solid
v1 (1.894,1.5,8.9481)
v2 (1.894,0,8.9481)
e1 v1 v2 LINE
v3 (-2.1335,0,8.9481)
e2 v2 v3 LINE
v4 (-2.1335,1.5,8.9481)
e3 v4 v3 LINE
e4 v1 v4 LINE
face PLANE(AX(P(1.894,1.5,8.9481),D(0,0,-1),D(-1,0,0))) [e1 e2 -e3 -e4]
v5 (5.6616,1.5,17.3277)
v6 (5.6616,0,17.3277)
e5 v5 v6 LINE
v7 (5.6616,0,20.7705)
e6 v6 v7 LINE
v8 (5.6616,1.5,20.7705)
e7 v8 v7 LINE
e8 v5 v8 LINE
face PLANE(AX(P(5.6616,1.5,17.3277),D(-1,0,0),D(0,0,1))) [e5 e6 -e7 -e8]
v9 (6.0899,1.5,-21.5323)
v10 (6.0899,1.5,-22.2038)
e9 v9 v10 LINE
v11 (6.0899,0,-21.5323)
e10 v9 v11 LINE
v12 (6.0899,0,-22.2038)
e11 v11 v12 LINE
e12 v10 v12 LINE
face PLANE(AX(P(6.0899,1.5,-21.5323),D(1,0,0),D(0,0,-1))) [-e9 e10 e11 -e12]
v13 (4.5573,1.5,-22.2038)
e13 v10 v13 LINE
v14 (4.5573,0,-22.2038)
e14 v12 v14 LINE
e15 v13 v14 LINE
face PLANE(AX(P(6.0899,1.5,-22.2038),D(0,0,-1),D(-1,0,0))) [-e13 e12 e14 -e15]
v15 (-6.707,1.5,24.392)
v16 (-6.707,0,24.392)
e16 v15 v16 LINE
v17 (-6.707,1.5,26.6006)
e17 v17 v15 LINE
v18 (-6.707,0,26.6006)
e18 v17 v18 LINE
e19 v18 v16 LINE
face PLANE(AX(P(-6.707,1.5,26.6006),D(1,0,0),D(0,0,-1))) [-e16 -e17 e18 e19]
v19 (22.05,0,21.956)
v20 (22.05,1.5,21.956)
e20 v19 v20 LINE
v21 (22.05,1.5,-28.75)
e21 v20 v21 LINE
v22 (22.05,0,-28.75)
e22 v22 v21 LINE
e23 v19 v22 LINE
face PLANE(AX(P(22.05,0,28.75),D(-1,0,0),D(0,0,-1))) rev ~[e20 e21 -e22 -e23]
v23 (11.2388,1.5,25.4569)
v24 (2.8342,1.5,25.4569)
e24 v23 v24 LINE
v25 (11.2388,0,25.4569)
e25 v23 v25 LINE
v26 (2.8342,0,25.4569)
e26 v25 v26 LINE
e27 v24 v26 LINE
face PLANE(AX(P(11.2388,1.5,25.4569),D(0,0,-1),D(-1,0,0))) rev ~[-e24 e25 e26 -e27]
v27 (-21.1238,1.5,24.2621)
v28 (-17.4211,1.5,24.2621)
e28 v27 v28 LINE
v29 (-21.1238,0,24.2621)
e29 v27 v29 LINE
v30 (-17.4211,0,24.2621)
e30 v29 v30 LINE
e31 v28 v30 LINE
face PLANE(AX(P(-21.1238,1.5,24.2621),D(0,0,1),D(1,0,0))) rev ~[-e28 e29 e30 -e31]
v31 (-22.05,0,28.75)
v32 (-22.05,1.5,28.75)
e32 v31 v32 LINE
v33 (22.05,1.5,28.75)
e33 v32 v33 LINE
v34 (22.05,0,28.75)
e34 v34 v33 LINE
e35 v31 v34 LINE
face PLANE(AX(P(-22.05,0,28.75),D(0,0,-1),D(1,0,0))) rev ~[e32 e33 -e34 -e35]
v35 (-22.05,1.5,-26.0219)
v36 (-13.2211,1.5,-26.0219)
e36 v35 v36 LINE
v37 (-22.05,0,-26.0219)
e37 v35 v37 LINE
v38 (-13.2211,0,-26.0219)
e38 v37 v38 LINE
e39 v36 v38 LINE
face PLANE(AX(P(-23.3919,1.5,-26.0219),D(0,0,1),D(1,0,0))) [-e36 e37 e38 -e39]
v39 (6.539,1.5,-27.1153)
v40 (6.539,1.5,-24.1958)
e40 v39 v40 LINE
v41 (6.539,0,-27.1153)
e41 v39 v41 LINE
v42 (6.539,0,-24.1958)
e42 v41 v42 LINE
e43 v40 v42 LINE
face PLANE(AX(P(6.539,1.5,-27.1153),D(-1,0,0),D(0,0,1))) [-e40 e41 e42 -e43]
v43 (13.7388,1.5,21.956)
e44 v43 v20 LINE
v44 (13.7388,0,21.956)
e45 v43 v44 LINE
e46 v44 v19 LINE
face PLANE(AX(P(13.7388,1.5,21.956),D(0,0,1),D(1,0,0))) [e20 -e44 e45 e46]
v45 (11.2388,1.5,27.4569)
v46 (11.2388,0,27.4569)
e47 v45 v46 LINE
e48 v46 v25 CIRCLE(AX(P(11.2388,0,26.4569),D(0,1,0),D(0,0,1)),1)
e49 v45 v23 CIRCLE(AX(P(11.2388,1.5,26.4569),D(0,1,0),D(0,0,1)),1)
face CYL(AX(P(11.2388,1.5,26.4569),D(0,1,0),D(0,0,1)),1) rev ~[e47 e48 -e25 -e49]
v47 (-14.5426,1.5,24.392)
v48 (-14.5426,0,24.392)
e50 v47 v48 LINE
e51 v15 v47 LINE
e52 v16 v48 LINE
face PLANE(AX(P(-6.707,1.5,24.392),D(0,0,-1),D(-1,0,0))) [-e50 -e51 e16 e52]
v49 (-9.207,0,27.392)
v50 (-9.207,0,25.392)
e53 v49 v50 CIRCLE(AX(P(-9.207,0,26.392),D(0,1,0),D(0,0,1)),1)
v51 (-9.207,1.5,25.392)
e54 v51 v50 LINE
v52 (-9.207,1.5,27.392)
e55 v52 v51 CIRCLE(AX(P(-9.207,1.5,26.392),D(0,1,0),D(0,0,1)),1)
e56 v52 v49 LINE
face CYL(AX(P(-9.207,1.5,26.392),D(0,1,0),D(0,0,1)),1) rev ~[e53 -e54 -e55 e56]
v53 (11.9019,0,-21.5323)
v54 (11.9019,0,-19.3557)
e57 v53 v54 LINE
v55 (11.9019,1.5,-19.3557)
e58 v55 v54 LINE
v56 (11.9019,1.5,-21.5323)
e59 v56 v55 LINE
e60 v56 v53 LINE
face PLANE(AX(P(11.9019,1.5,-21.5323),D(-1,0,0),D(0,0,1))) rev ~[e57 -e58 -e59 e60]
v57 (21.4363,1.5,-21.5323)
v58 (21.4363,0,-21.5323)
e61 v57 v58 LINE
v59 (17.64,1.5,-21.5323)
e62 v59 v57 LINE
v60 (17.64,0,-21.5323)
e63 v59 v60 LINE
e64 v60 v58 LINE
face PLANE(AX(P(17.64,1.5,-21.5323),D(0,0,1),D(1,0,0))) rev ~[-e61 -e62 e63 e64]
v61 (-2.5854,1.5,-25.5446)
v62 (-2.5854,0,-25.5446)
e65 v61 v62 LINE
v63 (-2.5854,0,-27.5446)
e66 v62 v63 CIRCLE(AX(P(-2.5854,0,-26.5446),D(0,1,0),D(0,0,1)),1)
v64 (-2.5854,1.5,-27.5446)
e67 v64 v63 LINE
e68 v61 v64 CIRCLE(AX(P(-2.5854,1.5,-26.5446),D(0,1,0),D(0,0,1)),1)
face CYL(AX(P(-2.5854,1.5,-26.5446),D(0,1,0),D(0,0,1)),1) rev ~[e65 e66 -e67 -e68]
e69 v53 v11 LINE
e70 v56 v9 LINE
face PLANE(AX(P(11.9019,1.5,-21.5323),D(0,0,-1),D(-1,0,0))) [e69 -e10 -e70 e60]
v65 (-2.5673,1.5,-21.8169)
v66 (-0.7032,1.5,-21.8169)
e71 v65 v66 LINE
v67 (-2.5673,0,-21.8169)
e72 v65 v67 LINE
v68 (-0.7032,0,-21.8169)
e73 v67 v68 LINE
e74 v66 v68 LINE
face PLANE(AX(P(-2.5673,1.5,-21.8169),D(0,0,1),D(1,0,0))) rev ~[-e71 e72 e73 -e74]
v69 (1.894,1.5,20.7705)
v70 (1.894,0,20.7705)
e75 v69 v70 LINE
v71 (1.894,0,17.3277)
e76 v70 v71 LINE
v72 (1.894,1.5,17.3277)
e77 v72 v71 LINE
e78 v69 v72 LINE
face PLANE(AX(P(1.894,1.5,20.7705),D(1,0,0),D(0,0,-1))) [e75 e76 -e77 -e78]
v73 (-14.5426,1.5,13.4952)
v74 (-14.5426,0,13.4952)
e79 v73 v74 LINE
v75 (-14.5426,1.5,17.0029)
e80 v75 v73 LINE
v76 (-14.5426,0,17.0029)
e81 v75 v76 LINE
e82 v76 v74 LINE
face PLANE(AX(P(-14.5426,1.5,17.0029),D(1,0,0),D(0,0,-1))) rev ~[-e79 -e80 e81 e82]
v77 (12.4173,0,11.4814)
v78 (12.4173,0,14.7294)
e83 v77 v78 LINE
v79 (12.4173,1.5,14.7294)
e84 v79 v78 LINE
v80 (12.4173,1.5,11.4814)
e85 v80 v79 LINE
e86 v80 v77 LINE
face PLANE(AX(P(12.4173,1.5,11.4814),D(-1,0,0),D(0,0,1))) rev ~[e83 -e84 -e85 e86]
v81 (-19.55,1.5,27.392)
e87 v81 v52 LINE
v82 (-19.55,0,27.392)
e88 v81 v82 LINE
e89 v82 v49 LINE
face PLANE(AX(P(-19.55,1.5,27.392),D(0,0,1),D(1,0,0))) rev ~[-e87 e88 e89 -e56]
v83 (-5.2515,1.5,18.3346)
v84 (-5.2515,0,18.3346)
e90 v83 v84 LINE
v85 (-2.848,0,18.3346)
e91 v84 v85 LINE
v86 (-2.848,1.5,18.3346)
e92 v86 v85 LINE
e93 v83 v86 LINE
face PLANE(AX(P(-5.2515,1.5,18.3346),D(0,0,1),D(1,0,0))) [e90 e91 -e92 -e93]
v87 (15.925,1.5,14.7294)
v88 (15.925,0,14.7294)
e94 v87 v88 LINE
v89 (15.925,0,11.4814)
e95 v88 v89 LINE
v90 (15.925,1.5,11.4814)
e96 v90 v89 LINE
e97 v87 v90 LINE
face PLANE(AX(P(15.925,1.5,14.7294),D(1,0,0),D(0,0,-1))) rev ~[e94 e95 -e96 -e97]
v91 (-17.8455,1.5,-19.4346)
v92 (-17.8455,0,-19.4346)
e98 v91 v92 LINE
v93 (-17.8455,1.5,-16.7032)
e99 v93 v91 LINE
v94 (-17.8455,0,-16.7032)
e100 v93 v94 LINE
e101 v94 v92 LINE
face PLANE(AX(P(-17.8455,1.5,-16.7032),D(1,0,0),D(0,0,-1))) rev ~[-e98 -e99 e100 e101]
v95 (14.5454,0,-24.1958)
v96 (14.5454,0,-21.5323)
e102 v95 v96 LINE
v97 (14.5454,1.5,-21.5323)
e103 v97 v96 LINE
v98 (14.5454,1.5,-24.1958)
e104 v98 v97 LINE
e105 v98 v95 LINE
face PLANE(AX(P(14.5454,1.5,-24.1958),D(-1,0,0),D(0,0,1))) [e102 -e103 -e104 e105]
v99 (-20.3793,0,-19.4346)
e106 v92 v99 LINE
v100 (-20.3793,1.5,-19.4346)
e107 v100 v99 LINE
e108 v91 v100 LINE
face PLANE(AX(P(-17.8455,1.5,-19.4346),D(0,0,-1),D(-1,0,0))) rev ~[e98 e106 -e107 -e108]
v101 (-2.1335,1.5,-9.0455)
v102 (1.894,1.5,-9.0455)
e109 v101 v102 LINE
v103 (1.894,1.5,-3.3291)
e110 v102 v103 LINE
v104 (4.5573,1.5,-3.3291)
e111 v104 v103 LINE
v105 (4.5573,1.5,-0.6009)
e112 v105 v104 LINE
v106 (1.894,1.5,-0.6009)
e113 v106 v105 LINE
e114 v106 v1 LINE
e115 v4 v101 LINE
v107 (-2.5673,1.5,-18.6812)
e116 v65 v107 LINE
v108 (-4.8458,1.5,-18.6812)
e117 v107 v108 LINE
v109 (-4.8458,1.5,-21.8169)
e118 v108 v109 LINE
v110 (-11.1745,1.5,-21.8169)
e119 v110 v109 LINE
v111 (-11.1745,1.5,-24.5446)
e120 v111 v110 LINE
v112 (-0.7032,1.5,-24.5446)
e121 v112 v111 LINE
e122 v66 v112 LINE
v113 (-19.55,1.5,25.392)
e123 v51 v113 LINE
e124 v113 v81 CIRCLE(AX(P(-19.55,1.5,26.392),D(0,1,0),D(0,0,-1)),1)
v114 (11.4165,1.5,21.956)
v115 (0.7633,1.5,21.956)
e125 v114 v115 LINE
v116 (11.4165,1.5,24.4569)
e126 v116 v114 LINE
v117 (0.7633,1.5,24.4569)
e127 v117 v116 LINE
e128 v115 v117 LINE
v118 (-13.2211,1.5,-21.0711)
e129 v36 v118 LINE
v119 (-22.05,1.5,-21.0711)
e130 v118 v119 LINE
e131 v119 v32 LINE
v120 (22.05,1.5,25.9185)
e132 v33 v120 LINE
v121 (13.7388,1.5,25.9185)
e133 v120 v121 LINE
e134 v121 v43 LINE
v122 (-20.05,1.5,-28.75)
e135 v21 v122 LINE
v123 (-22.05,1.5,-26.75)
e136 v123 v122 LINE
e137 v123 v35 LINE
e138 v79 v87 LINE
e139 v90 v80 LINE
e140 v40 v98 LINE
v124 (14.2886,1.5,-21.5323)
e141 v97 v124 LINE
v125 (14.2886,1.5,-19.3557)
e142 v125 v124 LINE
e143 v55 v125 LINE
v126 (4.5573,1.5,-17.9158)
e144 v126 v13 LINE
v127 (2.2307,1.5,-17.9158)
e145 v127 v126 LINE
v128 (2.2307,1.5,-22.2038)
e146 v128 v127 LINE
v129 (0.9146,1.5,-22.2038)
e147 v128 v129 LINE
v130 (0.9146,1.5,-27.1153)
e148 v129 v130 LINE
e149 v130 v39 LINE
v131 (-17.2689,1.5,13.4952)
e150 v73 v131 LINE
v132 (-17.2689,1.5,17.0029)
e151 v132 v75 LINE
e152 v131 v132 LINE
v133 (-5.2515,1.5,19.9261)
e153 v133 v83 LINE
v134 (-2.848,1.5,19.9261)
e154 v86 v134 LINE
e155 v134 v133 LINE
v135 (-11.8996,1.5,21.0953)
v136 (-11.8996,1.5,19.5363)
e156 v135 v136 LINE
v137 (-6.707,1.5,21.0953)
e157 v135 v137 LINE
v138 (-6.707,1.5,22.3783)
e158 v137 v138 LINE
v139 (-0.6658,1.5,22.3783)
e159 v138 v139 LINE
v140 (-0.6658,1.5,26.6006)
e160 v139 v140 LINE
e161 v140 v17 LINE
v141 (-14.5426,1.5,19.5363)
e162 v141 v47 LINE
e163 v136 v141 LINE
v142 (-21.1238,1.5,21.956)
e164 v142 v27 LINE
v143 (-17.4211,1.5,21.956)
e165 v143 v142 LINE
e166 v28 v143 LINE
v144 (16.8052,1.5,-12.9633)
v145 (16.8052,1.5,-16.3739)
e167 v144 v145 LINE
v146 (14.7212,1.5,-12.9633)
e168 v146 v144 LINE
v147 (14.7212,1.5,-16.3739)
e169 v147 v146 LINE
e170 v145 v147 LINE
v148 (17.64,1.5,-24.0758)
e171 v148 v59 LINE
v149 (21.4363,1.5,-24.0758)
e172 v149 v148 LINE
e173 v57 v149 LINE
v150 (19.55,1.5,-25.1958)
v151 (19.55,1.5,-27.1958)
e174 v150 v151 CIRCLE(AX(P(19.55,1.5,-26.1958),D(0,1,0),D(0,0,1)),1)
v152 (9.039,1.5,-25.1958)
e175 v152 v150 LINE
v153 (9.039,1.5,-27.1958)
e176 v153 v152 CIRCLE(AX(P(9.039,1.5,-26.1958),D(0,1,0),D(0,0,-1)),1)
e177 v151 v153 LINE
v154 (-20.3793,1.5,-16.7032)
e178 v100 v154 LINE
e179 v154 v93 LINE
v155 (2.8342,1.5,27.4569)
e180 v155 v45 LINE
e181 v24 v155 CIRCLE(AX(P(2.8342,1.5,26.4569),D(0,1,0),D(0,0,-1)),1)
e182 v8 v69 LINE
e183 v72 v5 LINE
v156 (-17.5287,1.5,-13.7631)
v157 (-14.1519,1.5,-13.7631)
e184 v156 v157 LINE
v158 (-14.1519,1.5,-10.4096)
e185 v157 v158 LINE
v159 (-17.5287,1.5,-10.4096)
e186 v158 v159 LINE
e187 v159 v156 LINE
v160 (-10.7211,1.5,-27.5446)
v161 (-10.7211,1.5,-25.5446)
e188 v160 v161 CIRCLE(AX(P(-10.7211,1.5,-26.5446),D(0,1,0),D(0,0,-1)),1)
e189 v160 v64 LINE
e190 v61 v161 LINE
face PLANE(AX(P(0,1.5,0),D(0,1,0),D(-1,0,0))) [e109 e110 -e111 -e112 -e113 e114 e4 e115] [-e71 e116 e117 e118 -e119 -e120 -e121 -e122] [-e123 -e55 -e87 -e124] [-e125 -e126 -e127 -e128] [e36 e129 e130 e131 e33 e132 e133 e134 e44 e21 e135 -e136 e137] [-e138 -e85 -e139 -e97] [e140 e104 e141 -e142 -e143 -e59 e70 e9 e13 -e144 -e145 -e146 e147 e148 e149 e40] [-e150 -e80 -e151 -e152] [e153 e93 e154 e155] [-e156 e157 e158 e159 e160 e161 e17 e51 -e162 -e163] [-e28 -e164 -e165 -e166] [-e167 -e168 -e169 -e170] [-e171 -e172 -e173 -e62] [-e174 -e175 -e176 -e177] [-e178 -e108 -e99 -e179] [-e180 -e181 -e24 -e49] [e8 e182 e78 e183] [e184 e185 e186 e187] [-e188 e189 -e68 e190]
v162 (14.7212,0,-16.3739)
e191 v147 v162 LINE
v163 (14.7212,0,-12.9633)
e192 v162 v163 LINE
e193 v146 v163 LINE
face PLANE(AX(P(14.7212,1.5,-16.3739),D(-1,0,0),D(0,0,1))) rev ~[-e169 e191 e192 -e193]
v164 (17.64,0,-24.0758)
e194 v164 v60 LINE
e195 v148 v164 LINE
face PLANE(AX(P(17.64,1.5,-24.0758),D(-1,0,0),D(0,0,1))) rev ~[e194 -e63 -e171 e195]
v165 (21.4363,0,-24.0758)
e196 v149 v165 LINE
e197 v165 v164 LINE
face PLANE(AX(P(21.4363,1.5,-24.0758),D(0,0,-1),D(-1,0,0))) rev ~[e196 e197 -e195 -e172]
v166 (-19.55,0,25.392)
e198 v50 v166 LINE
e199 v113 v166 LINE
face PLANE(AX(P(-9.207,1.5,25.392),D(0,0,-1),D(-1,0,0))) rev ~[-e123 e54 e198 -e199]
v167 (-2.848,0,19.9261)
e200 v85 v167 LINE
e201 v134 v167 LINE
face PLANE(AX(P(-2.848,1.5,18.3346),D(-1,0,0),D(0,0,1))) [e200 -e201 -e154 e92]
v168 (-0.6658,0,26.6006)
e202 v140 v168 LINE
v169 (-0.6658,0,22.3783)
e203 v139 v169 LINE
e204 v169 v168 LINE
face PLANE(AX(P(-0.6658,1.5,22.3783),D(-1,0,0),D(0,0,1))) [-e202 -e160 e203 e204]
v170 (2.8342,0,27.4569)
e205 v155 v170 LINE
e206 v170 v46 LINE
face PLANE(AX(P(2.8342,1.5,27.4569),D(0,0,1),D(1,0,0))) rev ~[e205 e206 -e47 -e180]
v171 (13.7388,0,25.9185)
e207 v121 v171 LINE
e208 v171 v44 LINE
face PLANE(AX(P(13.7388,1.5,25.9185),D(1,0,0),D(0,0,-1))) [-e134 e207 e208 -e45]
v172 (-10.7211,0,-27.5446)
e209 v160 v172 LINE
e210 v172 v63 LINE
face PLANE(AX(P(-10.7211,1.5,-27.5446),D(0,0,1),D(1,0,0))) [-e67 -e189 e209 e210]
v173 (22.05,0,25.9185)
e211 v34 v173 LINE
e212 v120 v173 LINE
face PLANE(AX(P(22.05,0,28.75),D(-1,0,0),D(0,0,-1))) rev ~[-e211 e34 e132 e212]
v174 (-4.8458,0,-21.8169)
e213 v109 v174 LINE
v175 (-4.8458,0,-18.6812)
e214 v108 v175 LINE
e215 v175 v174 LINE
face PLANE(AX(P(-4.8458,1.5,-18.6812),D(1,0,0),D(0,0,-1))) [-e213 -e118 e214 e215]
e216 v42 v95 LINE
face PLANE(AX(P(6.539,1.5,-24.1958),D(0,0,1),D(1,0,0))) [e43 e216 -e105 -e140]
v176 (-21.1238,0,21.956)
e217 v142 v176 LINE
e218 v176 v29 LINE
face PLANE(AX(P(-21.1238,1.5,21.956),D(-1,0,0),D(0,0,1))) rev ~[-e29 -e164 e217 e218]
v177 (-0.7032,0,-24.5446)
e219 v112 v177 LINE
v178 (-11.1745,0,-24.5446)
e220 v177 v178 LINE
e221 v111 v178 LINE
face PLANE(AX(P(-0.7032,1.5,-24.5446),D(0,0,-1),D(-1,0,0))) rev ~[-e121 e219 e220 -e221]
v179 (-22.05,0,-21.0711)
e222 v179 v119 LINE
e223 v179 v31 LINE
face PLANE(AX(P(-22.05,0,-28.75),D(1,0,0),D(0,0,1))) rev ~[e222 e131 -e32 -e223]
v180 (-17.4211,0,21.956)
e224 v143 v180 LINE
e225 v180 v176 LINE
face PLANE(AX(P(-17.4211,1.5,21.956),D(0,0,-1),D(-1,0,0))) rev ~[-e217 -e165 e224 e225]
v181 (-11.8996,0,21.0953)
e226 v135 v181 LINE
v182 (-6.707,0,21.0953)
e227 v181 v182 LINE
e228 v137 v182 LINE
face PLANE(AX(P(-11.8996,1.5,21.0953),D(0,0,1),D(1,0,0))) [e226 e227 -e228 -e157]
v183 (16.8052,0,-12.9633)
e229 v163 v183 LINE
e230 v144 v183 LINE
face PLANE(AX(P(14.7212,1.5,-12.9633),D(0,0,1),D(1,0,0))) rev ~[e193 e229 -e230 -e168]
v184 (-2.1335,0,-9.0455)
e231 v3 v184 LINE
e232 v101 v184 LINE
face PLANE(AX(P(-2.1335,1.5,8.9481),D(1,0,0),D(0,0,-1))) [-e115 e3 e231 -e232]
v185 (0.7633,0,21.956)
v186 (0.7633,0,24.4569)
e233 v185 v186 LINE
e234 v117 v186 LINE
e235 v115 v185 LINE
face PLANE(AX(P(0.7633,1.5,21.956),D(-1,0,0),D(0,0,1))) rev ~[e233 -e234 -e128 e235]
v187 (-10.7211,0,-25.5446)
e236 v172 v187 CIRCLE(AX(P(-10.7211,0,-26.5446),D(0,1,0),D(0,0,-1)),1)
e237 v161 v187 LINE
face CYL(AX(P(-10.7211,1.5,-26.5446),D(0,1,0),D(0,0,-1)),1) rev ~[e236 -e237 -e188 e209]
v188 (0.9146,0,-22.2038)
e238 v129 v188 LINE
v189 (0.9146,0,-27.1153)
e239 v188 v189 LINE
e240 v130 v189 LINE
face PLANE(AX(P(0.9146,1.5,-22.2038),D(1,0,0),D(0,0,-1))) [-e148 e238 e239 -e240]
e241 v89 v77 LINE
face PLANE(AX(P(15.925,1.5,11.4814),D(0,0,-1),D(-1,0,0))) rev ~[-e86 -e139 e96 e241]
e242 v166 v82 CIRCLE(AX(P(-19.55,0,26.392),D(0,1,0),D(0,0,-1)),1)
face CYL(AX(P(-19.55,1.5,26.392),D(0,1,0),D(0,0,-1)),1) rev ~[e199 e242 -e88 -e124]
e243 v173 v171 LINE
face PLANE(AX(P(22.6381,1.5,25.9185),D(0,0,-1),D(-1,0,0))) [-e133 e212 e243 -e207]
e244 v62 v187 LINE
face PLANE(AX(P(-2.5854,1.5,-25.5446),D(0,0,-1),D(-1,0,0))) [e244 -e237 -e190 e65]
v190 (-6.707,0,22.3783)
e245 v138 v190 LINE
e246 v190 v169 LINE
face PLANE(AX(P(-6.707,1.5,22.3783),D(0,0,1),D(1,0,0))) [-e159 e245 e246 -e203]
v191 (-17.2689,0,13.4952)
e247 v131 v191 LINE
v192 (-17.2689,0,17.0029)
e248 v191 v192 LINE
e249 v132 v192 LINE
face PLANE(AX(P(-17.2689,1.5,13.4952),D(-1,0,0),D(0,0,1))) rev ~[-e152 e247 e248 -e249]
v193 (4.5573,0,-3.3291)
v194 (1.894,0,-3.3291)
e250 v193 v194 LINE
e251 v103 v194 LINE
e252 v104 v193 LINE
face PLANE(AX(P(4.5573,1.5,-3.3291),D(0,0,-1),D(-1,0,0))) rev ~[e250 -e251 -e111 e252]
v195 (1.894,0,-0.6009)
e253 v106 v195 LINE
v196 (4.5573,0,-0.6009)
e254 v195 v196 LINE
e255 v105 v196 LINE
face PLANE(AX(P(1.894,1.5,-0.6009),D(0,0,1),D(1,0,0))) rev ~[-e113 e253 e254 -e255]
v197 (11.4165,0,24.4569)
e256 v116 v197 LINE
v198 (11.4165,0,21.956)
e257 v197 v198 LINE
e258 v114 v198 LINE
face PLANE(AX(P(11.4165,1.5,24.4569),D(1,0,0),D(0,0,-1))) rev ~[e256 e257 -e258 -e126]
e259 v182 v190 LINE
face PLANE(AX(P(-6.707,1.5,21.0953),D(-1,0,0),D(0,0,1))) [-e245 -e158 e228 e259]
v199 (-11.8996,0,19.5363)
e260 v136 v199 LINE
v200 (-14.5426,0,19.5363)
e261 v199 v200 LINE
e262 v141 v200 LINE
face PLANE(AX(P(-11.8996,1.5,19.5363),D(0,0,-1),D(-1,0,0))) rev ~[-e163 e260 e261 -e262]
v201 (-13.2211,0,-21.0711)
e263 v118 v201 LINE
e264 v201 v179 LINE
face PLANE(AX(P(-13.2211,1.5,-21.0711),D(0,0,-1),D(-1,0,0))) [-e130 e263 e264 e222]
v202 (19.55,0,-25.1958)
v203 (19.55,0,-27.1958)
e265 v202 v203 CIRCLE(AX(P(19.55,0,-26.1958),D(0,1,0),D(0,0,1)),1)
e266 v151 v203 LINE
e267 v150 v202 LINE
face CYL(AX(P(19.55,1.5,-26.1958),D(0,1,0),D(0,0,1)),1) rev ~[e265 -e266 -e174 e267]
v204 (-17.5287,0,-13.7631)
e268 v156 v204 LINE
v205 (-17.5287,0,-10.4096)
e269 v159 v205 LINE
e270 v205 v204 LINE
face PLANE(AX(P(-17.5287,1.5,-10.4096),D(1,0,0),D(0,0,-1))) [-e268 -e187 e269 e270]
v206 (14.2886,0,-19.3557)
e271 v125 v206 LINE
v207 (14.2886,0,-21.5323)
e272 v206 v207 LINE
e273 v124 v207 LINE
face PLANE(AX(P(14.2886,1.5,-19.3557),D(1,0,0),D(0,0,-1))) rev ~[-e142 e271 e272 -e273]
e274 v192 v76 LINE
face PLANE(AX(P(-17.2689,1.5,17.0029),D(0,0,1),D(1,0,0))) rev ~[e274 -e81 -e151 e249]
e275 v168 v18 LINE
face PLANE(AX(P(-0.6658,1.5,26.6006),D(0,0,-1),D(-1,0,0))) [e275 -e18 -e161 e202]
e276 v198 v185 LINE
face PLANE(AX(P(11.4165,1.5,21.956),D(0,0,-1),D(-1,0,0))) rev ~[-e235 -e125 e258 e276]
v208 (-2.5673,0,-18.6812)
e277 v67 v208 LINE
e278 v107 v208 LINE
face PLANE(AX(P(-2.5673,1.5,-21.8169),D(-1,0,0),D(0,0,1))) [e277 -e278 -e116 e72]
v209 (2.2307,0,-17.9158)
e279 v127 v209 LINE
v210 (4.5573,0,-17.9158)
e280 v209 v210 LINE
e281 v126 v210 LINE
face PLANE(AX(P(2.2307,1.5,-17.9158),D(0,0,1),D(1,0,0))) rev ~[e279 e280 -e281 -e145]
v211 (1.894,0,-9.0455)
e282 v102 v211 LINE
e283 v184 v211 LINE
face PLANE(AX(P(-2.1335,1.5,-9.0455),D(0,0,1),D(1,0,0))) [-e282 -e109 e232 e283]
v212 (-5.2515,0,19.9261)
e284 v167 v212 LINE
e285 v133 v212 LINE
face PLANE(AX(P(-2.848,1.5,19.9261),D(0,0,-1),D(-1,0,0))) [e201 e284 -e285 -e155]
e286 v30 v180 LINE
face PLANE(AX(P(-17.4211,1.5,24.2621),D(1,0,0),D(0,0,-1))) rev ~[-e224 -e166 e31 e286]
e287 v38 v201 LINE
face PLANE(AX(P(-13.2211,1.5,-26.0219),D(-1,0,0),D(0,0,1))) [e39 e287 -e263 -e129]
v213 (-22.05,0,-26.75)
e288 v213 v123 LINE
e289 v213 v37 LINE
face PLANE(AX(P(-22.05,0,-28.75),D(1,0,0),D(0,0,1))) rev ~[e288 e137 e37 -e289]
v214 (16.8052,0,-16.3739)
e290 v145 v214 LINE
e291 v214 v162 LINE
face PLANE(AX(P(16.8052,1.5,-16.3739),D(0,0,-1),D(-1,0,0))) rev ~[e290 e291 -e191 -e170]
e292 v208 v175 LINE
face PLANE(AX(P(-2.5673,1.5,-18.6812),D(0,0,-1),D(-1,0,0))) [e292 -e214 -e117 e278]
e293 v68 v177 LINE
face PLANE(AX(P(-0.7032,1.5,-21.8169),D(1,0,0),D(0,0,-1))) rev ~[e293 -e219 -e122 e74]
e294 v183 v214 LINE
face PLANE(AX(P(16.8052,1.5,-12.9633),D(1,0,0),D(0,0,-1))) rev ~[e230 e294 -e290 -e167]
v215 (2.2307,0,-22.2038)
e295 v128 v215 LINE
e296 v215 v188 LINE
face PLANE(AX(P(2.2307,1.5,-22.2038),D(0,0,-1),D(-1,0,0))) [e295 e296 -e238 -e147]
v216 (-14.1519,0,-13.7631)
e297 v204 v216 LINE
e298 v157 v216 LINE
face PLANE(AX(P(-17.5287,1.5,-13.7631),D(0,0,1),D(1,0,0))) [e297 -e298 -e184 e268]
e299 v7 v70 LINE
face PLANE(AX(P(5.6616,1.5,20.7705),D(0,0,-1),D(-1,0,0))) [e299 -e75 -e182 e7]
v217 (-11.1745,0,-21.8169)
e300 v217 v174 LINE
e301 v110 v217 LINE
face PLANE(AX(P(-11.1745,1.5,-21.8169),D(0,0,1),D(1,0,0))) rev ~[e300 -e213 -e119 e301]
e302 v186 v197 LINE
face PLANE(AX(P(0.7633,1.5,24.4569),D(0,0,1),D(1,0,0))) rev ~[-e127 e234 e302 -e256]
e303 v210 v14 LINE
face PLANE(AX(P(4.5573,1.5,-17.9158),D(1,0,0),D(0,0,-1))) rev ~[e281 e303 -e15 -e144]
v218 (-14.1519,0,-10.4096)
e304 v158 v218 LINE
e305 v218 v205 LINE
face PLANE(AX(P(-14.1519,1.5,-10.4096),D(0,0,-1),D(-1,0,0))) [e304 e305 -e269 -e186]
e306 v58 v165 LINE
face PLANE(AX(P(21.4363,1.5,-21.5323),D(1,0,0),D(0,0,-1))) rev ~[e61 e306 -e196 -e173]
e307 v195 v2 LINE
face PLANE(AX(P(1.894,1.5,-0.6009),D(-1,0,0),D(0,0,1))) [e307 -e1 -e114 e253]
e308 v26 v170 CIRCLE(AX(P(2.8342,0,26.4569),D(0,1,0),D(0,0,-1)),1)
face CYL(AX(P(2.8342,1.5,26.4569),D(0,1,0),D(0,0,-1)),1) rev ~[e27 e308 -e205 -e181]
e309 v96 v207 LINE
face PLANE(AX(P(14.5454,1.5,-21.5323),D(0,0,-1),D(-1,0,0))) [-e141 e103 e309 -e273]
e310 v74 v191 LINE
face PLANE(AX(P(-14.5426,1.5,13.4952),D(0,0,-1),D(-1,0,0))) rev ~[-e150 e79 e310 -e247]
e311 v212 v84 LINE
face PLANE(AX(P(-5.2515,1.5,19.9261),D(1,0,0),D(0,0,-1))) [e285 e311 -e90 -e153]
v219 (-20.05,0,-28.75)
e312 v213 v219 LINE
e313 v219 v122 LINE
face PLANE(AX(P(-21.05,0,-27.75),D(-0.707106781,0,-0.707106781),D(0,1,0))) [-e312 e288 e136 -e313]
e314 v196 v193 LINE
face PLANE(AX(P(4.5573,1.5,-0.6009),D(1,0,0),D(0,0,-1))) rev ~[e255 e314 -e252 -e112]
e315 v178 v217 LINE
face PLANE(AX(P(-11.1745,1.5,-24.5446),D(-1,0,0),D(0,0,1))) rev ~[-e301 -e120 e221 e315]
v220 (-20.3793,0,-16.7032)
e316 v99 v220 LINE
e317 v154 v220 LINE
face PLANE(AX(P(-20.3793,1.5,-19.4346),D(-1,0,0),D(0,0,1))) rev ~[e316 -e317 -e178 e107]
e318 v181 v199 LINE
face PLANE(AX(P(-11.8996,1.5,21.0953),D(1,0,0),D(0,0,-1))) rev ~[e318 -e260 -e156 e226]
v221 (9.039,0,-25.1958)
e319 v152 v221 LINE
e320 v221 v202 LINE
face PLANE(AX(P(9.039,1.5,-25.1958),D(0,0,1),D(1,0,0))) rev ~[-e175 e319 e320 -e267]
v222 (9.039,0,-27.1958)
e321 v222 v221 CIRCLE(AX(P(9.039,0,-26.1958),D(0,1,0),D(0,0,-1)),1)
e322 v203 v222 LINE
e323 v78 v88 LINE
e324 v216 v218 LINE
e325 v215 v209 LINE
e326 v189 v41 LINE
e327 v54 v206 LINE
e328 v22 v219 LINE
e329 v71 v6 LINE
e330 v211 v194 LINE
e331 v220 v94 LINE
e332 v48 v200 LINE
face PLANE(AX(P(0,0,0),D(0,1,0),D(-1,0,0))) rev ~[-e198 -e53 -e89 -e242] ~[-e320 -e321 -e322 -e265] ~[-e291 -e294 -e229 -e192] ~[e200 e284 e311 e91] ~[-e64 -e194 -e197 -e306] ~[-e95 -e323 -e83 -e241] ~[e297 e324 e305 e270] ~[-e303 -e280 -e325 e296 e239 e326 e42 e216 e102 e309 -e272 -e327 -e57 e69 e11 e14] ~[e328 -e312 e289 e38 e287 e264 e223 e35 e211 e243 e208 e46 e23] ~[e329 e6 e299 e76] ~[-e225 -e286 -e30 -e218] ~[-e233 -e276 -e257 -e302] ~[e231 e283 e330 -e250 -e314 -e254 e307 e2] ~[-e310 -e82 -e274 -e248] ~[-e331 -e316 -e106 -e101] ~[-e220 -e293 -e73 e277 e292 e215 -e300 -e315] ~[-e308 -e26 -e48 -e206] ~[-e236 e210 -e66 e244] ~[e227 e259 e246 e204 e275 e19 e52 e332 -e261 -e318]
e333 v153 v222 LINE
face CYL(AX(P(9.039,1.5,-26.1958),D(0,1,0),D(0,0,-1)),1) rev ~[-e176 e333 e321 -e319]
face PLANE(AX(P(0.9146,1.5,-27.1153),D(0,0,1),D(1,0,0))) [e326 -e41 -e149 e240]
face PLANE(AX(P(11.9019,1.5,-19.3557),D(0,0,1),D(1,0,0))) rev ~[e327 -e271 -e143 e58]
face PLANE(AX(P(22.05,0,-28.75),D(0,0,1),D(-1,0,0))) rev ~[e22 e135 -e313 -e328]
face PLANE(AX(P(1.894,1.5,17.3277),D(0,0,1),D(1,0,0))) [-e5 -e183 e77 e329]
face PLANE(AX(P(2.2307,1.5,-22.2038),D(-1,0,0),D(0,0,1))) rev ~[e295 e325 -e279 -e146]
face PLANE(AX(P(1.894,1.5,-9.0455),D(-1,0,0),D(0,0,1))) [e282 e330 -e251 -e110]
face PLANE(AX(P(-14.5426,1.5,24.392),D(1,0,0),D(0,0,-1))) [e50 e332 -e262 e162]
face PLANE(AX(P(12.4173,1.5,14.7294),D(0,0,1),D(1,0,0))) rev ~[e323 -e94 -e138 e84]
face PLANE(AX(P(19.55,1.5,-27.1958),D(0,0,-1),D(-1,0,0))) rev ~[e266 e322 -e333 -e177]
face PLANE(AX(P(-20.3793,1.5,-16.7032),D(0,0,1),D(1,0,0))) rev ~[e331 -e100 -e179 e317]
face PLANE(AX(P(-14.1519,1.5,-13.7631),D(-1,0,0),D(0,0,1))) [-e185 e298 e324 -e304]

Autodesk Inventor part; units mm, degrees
ref_plane "YZ Plane" through (0, 0, 0) normal (1, 0, 0) x (0, 1, 0)
ref_plane "XZ Plane" through (0, 0, 0) normal (0, 1, 0) x (-1, 0, 0)
ref_plane "XY Plane" through (0, 0, 0) normal (0, 0, 1) x (1, 0, 0)
sketch "Sketch1" plane through (0, 0, 0) normal (0, 1, 0) x (-1, 0, 0)
  line L0 (-22.05, -28.75) -> (22.05, -28.75)
  line L1 (22.05, -28.75) -> (22.05, 28.75)
  line L2 (22.05, 28.75) -> (-22.05, 28.75)
  line L3 (-22.05, 28.75) -> (-22.05, -28.75)
  line L4 (-22.05, -28.75) -> (22.05, 28.75) construction
  line L5 (22.05, -28.75) -> (-22.05, 28.75) construction
  point P0 (0, 0)
  dimension "d0" = 57.5
  dimension "d1" = 44.1
extrude "Extrusion1" add sketch "Sketch1" along normal blind 1.5
sketch "Sketch4" plane through (0, 1.5, 0) normal (0, 1, 0) x (1, 0, 0)
  line L0 (22.6381, -25.9185) -> (13.7388, -25.9185)
  line L1 (13.7388, -25.9185) -> (13.7388, -21.956)
  line L2 (13.7388, -21.956) -> (22.6381, -21.956)
  line L3 (22.6381, -21.956) -> (22.6381, -25.9185)
  line L4 (11.4165, -21.956) -> (0.7633, -21.956)
  line L5 (0.7633, -21.956) -> (0.7633, -24.4569)
  line L6 (0.7633, -24.4569) -> (11.4165, -24.4569)
  line L7 (11.4165, -24.4569) -> (11.4165, -21.956)
  line L8 (-0.6658, -26.6006) -> (-6.707, -26.6006)
  line L9 (-6.707, -26.6006) -> (-6.707, -22.3783)
  line L10 (-6.707, -22.3783) -> (-0.6658, -22.3783)
  line L11 (-0.6658, -22.3783) -> (-0.6658, -26.6006)
  line L12 (-6.707, -24.392) -> (-14.5426, -24.392)
  line L13 (-14.5426, -24.392) -> (-14.5426, -21.0953)
  line L14 (-14.5426, -21.0953) -> (-6.707, -21.0953)
  line L15 (-6.707, -21.0953) -> (-6.707, -24.392)
  line L16 (-14.5426, -21.0953) -> (-11.8996, -21.0953)
  line L17 (-11.8996, -21.0953) -> (-11.8996, -19.5363)
  line L18 (-11.8996, -19.5363) -> (-14.5426, -19.5363)
  line L19 (-14.5426, -19.5363) -> (-14.5426, -21.0953)
  line L20 (-21.1238, -24.2621) -> (-17.4211, -24.2621)
  line L21 (-17.4211, -24.2621) -> (-17.4211, -21.956)
  line L22 (-17.4211, -21.956) -> (-21.1238, -21.956)
  line L23 (-21.1238, -21.956) -> (-21.1238, -24.2621)
  line L24 (5.6616, -20.7705) -> (1.894, -20.7705)
  line L25 (1.894, -20.7705) -> (1.894, -17.3277)
  line L26 (1.894, -17.3277) -> (5.6616, -17.3277)
  line L27 (5.6616, -17.3277) -> (5.6616, -20.7705)
  line L28 (-2.848, -19.9261) -> (-5.2515, -19.9261)
  line L29 (-5.2515, -19.9261) -> (-5.2515, -18.3346)
  line L30 (-5.2515, -18.3346) -> (-2.848, -18.3346)
  line L31 (-2.848, -18.3346) -> (-2.848, -19.9261)
  line L32 (-17.2689, -17.0029) -> (-14.5426, -17.0029)
  line L33 (-14.5426, -17.0029) -> (-14.5426, -13.4952)
  line L34 (-14.5426, -13.4952) -> (-17.2689, -13.4952)
  line L35 (-17.2689, -13.4952) -> (-17.2689, -17.0029)
  line L36 (15.925, -11.4814) -> (12.4173, -11.4814)
  line L37 (12.4173, -11.4814) -> (12.4173, -14.7294)
  line L38 (12.4173, -14.7294) -> (15.925, -14.7294)
  line L39 (15.925, -14.7294) -> (15.925, -11.4814)
  line L40 (-2.1335, 9.0455) -> (1.894, 9.0455)
  line L41 (1.894, 9.0455) -> (1.894, -8.9481)
  line L42 (1.894, -8.9481) -> (-2.1335, -8.9481)
  line L43 (-2.1335, -8.9481) -> (-2.1335, 9.0455)
  line L44 (4.5573, 3.3291) -> (1.6991, 3.3291)
  line L45 (1.6991, 3.3291) -> (1.6991, 0.6009)
  line L46 (1.6991, 0.6009) -> (4.5573, 0.6009)
  line L47 (4.5573, 0.6009) -> (4.5573, 3.3291)
  line L48 (-17.5287, 13.7631) -> (-14.1519, 13.7631)
  line L49 (-14.1519, 13.7631) -> (-14.1519, 10.4096)
  line L50 (-14.1519, 10.4096) -> (-17.5287, 10.4096)
  line L51 (-17.5287, 10.4096) -> (-17.5287, 13.7631)
  line L52 (16.8052, 16.3739) -> (14.7212, 16.3739)
  line L53 (14.7212, 16.3739) -> (14.7212, 12.9633)
  line L54 (14.7212, 12.9633) -> (16.8052, 12.9633)
  line L55 (16.8052, 12.9633) -> (16.8052, 16.3739)
  line L56 (-23.3919, 26.0219) -> (-13.2211, 26.0219)
  line L57 (-13.2211, 26.0219) -> (-13.2211, 21.0711)
  line L58 (-13.2211, 21.0711) -> (-23.3919, 21.0711)
  line L59 (-23.3919, 21.0711) -> (-23.3919, 26.0219)
  line L60 (-20.3793, 16.7032) -> (-17.8455, 16.7032)
  line L61 (-17.8455, 16.7032) -> (-17.8455, 19.4346)
  line L62 (-17.8455, 19.4346) -> (-20.3793, 19.4346)
  line L63 (-20.3793, 19.4346) -> (-20.3793, 16.7032)
  line L64 (-11.1745, 21.8169) -> (-0.7032, 21.8169)
  line L65 (-0.7032, 21.8169) -> (-0.7032, 24.5446)
  line L66 (-0.7032, 24.5446) -> (-11.1745, 24.5446)
  line L67 (-11.1745, 24.5446) -> (-11.1745, 21.8169)
  line L68 (-2.5673, 18.6812) -> (-4.8458, 18.6812)
  line L69 (-4.8458, 18.6812) -> (-4.8458, 22.2038)
  line L70 (-4.8458, 22.2038) -> (-2.5673, 22.2038)
  line L71 (-2.5673, 22.2038) -> (-2.5673, 18.6812)
  line L72 (0.9146, 27.1153) -> (6.539, 27.1153)
  line L73 (6.539, 27.1153) -> (6.539, 22.2038)
  line L74 (6.539, 22.2038) -> (0.9146, 22.2038)
  line L75 (0.9146, 22.2038) -> (0.9146, 27.1153)
  line L76 (2.2307, 17.9158) -> (4.5573, 17.9158)
  line L77 (4.5573, 17.9158) -> (4.5573, 22.2038)
  line L78 (4.5573, 22.2038) -> (2.2307, 22.2038)
  line L79 (2.2307, 22.2038) -> (2.2307, 17.9158)
  line L80 (6.0899, 24.1958) -> (14.5454, 24.1958)
  line L81 (14.5454, 24.1958) -> (14.5454, 21.5323)
  line L82 (14.5454, 21.5323) -> (6.0899, 21.5323)
  line L83 (6.0899, 21.5323) -> (6.0899, 24.1958)
  line L84 (14.2886, 21.5323) -> (11.9019, 21.5323)
  line L85 (11.9019, 21.5323) -> (11.9019, 19.3557)
  line L86 (11.9019, 19.3557) -> (14.2886, 19.3557)
  line L87 (14.2886, 19.3557) -> (14.2886, 21.5323)
  line L88 (21.4363, 24.0758) -> (17.64, 24.0758)
  line L89 (17.64, 24.0758) -> (17.64, 21.5323)
  line L90 (17.64, 21.5323) -> (21.4363, 21.5323)
  line L91 (21.4363, 21.5323) -> (21.4363, 24.0758)
  point P0 (0, 0)
  point P1 (6.539, 24.1958)
  point P2 (6.0899, 22.2038)
extrude "Clearance Cutouts" cut sketch "Sketch4" against normal blind 1.5
sketch "Sketch5" plane through (0, 1.5, 0) normal (0, 1, 0) x (1, 0, 0)
  line L0 (19.55, 26.1958) -> (9.039, 26.1958) construction
  line L1 (19.55, 27.1958) -> (9.039, 27.1958)
  line L2 (9.039, 25.1958) -> (19.55, 25.1958)
  arc A0 (19.55, 25.1958) -> (19.55, 27.1958) centre (19.55, 26.1958) ccw
  arc A1 (9.039, 27.1958) -> (9.039, 25.1958) centre (9.039, 26.1958) ccw
  line L3 (6.539, 24.1958) -> (14.5454, 24.1958) projected
  line L4 (6.539, 27.1153) -> (6.539, 24.1958) projected
  line L5 (22.05, -21.956) -> (22.05, 28.75) projected
  line L6 (-2.5854, 26.5446) -> (-10.7211, 26.5446) construction
  line L7 (-2.5854, 25.5446) -> (-10.7211, 25.5446)
  line L8 (-10.7211, 27.5446) -> (-2.5854, 27.5446)
  arc A2 (-2.5854, 25.5446) -> (-2.5854, 27.5446) centre (-2.5854, 26.5446) ccw
  arc A3 (-10.7211, 27.5446) -> (-10.7211, 25.5446) centre (-10.7211, 26.5446) ccw
  line L9 (-11.1745, 24.5446) -> (-0.7032, 24.5446) projected
  line L10 (0.9146, 22.2038) -> (0.9146, 27.1153) projected
  line L11 (-13.2211, 26.0219) -> (-13.2211, 21.0711) projected
  line L12 (-19.55, -26.392) -> (-9.207, -26.392) construction
  line L13 (-22.05, -28.75) -> (22.05, -28.75) projected
  line L14 (-19.55, -27.392) -> (-9.207, -27.392)
  line L15 (-9.207, -25.392) -> (-19.55, -25.392)
  arc A4 (-19.55, -25.392) -> (-19.55, -27.392) centre (-19.55, -26.392) ccw
  arc A5 (-9.207, -27.392) -> (-9.207, -25.392) centre (-9.207, -26.392) ccw
  line L16 (-6.707, -24.392) -> (-14.5426, -24.392) projected
  line L17 (-6.707, -26.6006) -> (-6.707, -24.392) projected
  line L18 (-22.05, 21.0711) -> (-22.05, -28.75) projected
  line L19 (2.8342, -26.4569) -> (11.2388, -26.4569) construction
  line L20 (2.8342, -27.4569) -> (11.2388, -27.4569)
  line L21 (11.2388, -25.4569) -> (2.8342, -25.4569)
  arc A6 (2.8342, -25.4569) -> (2.8342, -27.4569) centre (2.8342, -26.4569) ccw
  arc A7 (11.2388, -27.4569) -> (11.2388, -25.4569) centre (11.2388, -26.4569) ccw
  line L22 (11.4165, -24.4569) -> (0.7633, -24.4569) projected
  line L23 (-0.6658, -22.3783) -> (-0.6658, -26.6006) projected
  line L24 (13.7388, -25.9185) -> (13.7388, -21.956) projected
  point P0 (0, 0)
  point P1 (14.2945, 26.1958)
  point P2 (8.039, 26.1958)
  point P3 (20.55, 26.1958)
  point P4 (-6.6533, 26.5446)
  point P5 (-1.5854, 26.5446)
  point P6 (-11.7211, 26.5446)
  point P7 (-14.3785, -26.392)
  point P8 (-8.207, -26.392)
  point P9 (-20.55, -26.392)
  point P10 (7.0365, -26.4569)
  point P11 (1.8342, -26.4569)
  point P12 (12.2388, -26.4569)
  dimension "d23" = 2
  dimension "d24" = 1
  dimension "d25" = 1.5
  dimension "d26" = 1.5
  dimension "d27" = 1
  dimension "d28" = 2.5
  dimension "d29" = 1.5
  dimension "d30" = 1
  dimension "d31" = 1
  dimension "d32" = 1
  dimension "d33" = 1.5
  dimension "d34" = 1.5
  dimension "d35" = 1
  dimension "d36" = 1
  dimension "d37" = 2.5
  dimension "d38" = 1.5
extrude "Extrusion4" cut sketch "Sketch5" against normal blind 1.5
chamfer "Chamfer1" distance 2 angle 45 1 edges at (-22.05, 0.75, -28.75)
properties part number "Flex Holder V1" material "Thermoplastic Resin"
